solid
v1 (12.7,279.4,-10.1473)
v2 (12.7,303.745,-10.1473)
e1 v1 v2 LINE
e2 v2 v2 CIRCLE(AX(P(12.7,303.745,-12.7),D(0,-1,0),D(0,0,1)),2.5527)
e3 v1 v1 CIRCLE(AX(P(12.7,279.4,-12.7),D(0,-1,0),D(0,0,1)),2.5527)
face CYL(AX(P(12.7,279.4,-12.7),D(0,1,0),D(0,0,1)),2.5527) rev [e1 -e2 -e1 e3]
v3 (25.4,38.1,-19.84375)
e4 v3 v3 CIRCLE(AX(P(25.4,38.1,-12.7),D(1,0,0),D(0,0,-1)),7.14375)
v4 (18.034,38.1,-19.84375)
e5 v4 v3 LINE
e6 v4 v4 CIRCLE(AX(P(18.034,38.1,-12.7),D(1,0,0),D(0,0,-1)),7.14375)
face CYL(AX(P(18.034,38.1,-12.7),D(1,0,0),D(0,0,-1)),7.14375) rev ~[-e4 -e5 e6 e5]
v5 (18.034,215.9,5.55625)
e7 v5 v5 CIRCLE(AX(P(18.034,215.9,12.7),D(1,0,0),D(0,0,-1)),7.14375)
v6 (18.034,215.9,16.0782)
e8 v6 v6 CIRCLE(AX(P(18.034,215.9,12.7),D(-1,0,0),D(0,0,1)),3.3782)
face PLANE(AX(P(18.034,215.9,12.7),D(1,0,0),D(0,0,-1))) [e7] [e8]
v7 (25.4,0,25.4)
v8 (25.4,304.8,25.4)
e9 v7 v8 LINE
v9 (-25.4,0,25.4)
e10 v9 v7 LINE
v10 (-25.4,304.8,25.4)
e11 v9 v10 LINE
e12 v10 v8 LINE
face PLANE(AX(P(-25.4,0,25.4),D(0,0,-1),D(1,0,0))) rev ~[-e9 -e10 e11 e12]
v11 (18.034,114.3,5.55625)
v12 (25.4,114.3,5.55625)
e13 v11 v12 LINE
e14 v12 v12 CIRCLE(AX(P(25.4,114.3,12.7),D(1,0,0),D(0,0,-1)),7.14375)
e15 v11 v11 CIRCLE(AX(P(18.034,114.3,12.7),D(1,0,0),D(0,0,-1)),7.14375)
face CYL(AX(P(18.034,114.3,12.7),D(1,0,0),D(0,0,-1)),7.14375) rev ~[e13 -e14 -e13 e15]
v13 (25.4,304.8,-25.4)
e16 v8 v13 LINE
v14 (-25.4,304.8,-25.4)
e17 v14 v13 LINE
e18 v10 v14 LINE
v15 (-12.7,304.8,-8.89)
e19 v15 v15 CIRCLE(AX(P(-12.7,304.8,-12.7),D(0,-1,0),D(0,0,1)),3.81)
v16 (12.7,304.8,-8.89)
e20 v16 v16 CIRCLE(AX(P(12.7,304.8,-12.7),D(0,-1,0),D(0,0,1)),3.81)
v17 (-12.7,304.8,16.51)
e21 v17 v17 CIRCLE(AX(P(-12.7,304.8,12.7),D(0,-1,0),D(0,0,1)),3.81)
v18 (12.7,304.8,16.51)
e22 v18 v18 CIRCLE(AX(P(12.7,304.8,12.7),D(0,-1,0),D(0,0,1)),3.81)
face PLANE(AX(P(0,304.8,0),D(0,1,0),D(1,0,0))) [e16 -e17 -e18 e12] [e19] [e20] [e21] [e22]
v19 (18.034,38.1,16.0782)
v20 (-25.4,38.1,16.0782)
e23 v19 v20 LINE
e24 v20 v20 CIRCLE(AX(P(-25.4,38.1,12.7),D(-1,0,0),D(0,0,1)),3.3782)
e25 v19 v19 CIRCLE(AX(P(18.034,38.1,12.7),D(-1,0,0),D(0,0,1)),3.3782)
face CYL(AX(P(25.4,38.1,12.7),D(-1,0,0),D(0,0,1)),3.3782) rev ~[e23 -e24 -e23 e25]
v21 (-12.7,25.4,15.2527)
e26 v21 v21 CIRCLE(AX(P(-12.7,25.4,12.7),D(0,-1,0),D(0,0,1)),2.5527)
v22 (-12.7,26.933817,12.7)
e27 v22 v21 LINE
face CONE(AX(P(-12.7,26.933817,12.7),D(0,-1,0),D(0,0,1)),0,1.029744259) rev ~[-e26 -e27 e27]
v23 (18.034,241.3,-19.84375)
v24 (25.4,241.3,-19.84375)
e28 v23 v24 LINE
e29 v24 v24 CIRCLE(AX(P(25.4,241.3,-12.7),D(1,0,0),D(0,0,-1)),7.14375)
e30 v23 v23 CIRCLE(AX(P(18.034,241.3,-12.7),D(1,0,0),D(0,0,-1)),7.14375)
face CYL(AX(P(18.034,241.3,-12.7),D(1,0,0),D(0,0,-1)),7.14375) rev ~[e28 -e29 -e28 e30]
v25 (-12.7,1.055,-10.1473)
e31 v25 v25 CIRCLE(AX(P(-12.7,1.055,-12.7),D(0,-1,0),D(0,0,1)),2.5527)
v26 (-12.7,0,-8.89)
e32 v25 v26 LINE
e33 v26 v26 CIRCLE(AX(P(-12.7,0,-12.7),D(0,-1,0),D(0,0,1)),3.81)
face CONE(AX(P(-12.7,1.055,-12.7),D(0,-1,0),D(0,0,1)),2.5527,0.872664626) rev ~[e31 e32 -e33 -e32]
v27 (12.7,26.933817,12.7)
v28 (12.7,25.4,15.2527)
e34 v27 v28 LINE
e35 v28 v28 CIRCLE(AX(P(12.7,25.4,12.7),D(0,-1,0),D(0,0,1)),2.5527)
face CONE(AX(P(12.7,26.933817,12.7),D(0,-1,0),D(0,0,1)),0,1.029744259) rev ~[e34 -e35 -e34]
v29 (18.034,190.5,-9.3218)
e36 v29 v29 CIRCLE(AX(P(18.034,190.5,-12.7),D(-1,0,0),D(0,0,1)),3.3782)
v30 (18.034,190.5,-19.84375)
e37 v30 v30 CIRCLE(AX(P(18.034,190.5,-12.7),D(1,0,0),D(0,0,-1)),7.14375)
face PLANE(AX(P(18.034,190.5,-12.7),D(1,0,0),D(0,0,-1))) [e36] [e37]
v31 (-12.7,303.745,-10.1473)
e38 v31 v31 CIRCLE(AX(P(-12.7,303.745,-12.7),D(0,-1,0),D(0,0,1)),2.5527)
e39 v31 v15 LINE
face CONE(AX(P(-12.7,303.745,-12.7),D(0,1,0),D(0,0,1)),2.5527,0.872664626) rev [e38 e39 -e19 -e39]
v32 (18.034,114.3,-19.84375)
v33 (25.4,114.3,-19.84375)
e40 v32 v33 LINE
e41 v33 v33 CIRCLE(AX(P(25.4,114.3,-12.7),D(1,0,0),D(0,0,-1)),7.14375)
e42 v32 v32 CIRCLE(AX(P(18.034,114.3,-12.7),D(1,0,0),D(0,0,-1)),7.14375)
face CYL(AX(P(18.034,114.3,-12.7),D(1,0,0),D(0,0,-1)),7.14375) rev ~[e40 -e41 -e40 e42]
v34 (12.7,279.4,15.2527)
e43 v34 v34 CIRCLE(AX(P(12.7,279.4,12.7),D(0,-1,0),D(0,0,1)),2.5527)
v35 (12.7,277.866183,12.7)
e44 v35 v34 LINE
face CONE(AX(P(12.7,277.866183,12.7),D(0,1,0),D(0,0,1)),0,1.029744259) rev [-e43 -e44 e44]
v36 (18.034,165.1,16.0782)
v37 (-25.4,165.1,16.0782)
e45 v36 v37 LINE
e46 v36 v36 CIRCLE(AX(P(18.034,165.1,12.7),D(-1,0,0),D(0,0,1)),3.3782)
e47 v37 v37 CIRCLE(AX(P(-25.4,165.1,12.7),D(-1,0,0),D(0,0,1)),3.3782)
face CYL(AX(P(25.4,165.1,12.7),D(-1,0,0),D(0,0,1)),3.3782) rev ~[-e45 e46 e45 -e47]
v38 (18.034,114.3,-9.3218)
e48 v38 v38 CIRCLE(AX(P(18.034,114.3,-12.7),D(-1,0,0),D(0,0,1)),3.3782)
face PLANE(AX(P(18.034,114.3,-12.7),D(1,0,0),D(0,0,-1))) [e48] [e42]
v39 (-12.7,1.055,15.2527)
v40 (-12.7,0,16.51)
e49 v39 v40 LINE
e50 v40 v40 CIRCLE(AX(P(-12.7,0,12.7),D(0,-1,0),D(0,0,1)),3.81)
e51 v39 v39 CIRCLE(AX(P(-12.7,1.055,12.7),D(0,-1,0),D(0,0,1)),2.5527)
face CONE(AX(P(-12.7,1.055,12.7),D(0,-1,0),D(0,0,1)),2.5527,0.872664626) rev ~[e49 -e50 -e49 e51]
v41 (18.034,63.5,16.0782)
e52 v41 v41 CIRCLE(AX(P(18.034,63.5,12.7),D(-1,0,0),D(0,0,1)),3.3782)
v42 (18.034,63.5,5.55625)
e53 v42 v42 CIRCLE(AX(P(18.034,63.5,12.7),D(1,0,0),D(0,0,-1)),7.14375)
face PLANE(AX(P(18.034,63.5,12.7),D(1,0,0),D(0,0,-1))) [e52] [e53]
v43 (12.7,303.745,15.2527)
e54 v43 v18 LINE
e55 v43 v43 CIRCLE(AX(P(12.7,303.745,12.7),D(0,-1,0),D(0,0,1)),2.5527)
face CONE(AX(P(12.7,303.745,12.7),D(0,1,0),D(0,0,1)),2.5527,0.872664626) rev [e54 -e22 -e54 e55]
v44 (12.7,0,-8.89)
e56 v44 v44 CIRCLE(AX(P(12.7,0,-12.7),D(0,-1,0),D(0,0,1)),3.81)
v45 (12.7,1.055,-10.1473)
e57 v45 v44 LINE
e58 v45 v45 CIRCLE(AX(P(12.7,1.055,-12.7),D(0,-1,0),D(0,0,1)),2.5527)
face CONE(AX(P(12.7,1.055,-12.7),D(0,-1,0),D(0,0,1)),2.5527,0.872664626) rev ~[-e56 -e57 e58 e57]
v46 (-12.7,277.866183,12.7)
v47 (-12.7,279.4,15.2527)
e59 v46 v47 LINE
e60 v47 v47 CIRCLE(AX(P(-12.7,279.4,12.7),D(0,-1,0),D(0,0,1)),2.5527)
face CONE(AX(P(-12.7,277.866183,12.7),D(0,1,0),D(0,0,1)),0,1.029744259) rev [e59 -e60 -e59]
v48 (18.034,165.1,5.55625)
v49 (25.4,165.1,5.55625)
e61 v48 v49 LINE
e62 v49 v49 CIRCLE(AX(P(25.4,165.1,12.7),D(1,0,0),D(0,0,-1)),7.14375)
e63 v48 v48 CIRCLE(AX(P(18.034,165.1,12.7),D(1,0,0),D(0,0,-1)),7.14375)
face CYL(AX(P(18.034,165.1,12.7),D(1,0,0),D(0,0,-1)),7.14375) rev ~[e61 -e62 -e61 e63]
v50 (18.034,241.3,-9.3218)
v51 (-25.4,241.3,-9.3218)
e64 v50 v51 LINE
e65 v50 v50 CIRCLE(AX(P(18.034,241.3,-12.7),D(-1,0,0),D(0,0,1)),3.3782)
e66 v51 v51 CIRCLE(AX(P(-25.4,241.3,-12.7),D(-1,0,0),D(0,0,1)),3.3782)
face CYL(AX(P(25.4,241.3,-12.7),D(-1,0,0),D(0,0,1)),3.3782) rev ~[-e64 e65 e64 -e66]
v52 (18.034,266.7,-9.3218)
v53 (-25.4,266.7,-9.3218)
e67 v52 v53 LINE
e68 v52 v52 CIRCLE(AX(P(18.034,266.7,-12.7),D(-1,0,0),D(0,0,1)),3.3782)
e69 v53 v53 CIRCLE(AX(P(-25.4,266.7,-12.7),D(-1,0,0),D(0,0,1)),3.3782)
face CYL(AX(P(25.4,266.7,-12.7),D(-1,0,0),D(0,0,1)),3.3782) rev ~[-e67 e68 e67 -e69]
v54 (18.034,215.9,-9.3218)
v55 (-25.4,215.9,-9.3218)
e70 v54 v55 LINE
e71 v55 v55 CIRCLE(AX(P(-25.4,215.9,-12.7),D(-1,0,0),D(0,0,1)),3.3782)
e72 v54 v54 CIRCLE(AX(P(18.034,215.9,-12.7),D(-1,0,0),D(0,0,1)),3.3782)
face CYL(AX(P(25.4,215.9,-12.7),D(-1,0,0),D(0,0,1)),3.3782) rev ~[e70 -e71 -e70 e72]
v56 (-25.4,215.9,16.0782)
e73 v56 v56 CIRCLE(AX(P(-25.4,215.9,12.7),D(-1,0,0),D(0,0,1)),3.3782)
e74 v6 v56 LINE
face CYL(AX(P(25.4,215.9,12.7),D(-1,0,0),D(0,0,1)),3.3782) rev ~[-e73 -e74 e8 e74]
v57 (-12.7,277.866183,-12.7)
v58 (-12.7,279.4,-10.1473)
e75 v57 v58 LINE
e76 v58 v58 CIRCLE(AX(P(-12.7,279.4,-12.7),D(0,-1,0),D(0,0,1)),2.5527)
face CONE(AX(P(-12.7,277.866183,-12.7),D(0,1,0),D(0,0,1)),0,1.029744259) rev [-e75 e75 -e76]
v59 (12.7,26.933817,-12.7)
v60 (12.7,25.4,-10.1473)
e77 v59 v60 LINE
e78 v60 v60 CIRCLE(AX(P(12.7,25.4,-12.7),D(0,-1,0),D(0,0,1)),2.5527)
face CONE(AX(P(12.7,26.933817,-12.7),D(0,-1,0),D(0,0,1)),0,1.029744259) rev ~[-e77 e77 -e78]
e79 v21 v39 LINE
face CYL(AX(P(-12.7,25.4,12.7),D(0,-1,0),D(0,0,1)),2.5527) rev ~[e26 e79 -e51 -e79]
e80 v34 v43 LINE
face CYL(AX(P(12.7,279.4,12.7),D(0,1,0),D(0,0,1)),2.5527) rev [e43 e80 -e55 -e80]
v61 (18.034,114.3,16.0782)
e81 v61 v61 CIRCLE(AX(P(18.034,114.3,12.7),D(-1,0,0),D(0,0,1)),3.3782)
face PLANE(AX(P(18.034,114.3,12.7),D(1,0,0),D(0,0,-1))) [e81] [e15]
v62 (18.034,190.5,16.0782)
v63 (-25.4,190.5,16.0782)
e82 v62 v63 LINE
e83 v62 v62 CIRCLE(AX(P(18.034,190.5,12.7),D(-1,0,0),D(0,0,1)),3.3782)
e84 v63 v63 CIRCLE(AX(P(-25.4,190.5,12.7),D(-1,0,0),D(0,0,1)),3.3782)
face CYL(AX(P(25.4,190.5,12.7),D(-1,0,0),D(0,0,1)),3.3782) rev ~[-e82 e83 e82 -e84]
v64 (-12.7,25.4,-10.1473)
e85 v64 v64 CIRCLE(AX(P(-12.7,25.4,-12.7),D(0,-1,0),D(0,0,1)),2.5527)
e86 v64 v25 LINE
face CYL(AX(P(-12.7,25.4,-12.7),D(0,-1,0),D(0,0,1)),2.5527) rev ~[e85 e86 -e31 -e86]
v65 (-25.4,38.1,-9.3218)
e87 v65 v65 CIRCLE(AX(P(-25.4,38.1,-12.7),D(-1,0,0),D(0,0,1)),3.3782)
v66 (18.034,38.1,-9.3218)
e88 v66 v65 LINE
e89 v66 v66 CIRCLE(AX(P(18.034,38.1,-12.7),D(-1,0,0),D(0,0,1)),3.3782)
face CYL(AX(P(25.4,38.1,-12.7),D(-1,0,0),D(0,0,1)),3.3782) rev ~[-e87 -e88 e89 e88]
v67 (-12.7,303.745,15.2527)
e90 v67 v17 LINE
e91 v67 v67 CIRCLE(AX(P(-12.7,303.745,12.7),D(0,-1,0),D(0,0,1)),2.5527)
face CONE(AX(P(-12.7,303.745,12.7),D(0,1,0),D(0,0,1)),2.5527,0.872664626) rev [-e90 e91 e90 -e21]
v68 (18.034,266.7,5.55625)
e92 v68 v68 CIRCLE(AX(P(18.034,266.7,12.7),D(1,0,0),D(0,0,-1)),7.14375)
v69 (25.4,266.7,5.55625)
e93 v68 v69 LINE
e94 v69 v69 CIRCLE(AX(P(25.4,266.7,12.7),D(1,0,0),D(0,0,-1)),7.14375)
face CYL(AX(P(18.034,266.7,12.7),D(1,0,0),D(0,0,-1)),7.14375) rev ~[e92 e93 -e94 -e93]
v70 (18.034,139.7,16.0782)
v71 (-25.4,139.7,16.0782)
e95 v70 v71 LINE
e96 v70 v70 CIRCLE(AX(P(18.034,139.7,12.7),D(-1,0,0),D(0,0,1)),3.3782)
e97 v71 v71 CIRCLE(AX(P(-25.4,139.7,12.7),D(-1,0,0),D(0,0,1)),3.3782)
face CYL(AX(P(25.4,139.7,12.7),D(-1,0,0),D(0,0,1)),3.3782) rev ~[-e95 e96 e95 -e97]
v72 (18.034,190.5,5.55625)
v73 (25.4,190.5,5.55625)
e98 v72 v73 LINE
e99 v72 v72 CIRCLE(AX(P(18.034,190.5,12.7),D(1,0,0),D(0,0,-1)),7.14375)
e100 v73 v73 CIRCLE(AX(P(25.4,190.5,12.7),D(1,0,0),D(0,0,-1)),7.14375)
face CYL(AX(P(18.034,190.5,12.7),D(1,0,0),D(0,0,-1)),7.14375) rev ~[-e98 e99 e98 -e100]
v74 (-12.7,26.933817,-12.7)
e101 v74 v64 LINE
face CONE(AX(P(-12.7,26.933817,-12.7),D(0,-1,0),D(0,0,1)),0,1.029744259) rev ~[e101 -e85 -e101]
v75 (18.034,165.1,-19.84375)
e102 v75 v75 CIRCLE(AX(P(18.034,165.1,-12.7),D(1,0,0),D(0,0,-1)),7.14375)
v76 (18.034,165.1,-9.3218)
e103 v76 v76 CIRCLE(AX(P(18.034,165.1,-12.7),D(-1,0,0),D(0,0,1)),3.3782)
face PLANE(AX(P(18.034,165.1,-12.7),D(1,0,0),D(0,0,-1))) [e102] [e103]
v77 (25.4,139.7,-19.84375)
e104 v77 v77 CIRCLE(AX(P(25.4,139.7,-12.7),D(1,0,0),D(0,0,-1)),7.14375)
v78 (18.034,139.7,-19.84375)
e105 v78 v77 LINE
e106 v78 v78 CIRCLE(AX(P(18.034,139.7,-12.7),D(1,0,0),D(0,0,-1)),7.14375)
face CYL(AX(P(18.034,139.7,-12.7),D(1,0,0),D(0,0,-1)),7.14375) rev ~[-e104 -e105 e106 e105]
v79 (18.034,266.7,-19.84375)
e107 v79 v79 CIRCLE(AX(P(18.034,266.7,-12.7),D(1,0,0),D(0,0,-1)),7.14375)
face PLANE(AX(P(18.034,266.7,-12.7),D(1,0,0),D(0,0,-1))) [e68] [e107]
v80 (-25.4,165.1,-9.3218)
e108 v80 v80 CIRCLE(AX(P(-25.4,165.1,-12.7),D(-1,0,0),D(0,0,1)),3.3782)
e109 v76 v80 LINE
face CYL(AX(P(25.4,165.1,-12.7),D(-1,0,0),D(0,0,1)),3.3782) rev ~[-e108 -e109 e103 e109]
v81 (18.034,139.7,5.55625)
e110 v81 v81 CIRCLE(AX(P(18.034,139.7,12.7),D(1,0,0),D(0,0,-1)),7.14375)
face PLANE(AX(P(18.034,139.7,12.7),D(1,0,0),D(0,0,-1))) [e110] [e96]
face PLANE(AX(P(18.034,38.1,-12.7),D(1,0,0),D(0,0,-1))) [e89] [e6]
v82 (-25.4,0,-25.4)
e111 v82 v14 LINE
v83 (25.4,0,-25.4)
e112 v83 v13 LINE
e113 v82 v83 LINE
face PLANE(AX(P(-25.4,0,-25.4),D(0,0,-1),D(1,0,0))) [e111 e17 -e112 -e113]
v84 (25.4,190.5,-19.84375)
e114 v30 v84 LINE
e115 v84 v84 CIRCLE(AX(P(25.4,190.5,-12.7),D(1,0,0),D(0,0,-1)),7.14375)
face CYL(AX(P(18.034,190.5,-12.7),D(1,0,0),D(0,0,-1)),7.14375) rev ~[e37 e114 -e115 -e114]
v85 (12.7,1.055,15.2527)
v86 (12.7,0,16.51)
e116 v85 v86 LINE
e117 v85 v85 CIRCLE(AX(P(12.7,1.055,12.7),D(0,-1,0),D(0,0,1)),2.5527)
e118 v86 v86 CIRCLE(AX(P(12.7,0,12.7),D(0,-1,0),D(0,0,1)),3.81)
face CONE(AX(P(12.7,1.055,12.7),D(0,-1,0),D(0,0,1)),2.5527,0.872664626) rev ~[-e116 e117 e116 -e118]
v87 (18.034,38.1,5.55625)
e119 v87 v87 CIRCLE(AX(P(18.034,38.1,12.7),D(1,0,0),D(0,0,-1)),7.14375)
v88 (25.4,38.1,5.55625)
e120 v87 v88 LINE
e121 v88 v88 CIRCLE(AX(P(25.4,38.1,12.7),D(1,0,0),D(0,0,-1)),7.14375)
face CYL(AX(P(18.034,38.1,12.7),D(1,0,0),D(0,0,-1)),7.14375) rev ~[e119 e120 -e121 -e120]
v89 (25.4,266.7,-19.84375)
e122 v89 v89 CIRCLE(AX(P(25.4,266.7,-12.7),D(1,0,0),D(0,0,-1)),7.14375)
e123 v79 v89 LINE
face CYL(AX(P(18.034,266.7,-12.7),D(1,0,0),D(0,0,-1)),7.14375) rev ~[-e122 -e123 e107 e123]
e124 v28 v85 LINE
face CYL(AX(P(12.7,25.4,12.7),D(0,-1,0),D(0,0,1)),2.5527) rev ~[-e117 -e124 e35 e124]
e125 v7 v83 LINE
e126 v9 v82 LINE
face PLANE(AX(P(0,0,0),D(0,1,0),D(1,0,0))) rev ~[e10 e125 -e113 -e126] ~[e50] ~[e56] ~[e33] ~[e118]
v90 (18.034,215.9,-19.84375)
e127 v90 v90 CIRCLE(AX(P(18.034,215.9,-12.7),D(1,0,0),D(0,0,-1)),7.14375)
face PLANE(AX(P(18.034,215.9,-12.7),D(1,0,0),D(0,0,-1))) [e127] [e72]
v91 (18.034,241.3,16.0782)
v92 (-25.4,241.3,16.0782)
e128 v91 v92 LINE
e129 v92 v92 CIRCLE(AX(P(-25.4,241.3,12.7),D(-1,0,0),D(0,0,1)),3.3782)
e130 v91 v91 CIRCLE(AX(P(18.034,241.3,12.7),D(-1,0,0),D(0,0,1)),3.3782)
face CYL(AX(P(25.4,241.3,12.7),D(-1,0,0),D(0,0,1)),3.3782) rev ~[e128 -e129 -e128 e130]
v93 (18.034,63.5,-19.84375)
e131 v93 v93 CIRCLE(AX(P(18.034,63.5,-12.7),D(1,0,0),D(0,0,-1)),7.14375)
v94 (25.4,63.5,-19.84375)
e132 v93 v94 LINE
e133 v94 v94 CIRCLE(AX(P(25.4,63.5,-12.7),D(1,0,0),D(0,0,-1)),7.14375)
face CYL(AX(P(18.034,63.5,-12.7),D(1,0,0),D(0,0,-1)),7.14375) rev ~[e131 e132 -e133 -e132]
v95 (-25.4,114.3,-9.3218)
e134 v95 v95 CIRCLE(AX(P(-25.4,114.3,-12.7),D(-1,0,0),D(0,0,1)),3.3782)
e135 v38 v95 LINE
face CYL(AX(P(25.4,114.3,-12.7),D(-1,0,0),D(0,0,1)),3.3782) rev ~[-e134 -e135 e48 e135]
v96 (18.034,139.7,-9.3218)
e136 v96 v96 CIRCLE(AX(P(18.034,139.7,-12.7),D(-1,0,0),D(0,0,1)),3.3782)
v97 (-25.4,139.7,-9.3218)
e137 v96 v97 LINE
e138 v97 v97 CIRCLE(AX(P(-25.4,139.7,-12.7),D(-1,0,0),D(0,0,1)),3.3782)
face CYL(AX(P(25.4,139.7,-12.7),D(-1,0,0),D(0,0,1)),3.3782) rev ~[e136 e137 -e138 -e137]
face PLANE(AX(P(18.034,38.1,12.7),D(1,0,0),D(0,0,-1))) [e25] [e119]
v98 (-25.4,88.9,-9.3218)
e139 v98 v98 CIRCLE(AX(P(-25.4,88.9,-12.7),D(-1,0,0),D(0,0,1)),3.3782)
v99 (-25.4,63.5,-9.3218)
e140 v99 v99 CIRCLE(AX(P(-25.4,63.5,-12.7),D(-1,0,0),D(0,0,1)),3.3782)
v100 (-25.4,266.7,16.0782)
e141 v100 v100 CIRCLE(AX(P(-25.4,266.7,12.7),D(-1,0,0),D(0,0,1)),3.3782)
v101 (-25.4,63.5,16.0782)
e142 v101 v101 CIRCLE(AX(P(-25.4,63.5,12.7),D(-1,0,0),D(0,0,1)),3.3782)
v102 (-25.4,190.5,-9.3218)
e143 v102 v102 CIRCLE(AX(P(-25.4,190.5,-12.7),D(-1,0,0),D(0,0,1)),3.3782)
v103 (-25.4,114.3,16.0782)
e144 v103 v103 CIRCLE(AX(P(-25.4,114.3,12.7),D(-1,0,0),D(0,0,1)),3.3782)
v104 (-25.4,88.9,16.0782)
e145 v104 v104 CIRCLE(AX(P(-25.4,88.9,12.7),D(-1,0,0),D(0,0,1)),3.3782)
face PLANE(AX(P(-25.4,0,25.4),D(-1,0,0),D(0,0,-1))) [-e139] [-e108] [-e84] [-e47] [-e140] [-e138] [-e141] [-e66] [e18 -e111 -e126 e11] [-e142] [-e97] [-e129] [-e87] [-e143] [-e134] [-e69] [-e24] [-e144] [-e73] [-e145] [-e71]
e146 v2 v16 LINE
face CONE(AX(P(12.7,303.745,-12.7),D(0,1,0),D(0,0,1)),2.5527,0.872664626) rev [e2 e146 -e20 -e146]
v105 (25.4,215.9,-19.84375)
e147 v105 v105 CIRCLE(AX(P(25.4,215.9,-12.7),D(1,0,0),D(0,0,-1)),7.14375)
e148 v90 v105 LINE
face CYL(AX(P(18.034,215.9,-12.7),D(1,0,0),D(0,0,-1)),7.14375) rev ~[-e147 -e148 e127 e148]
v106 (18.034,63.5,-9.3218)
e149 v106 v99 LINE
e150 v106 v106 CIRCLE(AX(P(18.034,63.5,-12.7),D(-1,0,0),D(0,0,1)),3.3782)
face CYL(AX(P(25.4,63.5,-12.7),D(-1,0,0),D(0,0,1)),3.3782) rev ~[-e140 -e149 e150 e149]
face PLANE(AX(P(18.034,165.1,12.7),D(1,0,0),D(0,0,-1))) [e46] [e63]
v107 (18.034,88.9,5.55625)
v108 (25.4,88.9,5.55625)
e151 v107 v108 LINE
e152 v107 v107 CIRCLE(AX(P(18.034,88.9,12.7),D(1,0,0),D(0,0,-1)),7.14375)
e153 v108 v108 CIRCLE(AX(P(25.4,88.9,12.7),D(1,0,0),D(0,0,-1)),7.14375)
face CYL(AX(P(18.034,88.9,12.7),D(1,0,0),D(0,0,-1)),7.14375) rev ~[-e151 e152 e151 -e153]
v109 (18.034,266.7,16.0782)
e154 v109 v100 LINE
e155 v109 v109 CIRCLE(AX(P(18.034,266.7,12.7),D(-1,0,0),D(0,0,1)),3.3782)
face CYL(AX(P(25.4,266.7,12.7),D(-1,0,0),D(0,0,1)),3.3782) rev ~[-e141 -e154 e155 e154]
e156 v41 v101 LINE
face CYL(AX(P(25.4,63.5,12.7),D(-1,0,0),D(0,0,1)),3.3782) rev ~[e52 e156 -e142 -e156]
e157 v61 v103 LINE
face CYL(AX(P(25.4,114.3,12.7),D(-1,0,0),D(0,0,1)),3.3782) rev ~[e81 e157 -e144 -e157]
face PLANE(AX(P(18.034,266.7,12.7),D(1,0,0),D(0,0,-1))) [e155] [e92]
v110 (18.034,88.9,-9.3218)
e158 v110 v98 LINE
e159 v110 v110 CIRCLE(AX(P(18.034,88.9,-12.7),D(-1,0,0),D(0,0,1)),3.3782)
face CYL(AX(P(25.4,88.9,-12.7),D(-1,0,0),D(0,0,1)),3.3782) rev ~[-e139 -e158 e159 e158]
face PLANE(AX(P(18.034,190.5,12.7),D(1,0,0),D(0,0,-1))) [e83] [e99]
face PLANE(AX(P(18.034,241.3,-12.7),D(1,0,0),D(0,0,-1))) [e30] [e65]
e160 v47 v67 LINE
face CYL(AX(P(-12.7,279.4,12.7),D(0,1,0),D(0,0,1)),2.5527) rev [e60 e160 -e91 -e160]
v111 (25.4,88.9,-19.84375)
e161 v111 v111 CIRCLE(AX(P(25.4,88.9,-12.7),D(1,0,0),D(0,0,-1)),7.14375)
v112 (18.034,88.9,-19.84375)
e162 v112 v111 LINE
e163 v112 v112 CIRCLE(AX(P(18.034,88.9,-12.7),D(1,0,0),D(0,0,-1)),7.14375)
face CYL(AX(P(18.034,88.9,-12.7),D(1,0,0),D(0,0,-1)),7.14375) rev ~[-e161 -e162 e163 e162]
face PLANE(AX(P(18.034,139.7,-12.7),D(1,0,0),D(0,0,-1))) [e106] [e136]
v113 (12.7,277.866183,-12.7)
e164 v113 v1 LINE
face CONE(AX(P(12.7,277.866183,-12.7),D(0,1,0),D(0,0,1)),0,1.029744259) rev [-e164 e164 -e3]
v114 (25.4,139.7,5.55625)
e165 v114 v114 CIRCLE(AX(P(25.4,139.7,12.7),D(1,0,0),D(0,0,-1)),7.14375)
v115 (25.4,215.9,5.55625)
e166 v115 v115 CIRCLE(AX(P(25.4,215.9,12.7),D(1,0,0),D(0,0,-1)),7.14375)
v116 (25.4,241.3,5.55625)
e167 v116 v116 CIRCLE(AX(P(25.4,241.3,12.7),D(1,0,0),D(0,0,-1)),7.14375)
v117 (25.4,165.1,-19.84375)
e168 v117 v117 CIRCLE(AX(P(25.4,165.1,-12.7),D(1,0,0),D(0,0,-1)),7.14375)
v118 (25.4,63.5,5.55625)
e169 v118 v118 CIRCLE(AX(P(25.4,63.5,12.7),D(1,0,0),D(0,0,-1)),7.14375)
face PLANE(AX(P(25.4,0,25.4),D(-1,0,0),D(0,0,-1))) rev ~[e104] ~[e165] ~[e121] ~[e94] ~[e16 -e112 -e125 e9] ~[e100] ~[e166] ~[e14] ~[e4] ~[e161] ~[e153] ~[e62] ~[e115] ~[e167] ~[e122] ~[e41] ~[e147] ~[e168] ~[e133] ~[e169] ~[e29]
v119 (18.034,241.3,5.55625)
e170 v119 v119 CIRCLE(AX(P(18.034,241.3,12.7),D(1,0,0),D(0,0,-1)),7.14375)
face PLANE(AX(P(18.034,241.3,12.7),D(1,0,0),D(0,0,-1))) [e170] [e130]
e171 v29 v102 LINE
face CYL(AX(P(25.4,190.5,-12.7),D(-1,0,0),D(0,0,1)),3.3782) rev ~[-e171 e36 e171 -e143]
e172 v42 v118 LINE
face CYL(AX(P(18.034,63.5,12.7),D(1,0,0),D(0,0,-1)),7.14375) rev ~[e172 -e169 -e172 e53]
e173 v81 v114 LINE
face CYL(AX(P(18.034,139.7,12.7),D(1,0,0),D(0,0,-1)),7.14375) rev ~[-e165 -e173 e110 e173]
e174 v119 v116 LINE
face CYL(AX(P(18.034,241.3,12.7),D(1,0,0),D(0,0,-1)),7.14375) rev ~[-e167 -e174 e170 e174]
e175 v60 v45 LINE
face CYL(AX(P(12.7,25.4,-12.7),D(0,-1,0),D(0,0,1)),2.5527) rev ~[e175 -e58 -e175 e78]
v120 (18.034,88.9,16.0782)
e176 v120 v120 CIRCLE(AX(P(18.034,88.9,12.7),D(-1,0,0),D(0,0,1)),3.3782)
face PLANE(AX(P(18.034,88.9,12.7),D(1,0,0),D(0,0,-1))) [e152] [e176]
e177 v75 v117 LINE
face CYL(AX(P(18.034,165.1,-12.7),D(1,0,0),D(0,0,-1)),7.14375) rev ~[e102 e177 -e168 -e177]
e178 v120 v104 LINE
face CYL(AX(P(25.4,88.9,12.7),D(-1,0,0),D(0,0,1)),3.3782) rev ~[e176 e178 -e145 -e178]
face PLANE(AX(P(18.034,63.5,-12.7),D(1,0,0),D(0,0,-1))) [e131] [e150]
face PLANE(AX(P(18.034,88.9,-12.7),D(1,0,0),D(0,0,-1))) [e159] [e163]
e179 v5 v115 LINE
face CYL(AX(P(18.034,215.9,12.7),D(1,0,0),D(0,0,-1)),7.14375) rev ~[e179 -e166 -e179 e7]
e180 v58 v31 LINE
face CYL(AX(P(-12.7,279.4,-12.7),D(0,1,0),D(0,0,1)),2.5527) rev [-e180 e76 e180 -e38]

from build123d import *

# Parameters (mm, degrees)
SKETCH1_W                                            = 50.8
SKETCH1_H                                            = 50.8
BOSS_EXTRUDE1_DEPTH                                  = 304.8
F_1_4_20_TAPPED_HOLE1_AT_2_COUNT                     = 2
F_1_4_20_TAPPED_HOLE1_AT_2_PITCH                     = 25.4
F_1_4_20_TAPPED_HOLE1_AT_3_COUNT                     = 2
F_1_4_20_TAPPED_HOLE1_AT_3_PITCH                     = 35.921024484
F_1_4_20_TAPPED_HOLE1_AT_4_COUNT                     = 2
F_1_4_20_TAPPED_HOLE1_AT_4_PITCH                     = 25.4
CBORE_FOR_1_4_BINDING_HEAD_MACHINE_SCREW_D           = 6.7564
CBORE_FOR_1_4_BINDING_HEAD_MACHINE_SCREW_CBORE_D     = 14.2875
CBORE_FOR_1_4_BINDING_HEAD_MACHINE_SCREW_CBORE_DEPTH = 7.366


with BuildPart() as part:
    # Sketch1 → Boss-Extrude1 (new body)
    with BuildSketch(Plane(origin=(0, 0, 0), x_dir=(1, 0, 0), z_dir=(0, 1, 0))):
        Rectangle(SKETCH1_W, SKETCH1_H)
    extrude(amount=BOSS_EXTRUDE1_DEPTH)

    # Sketch3 → 1/4-20 Tapped Hole1 (revolve, cut)
    with BuildSketch(Plane(origin=(-12.7, 304.8, -12.7), x_dir=(0, 0, 1), z_dir=(1, 0, 0))):
        Polygon((0, 0), (0, 26.933816902), (2.5527, 25.4), (2.5527, 1.054999966), (3.81, 0), align=None)
    f_1_4_20_tapped_hole1 = revolve(axis=Axis((-12.7, 311.15, -12.7), (0, -1, 0)), mode=Mode.SUBTRACT)

    # 1/4-20 Tapped Hole1 at 2: 1/4-20 Tapped Hole1 ×2
    with Locations(*[(i * F_1_4_20_TAPPED_HOLE1_AT_2_PITCH, 0, 0) for i in range(1, F_1_4_20_TAPPED_HOLE1_AT_2_COUNT)]):
        add(f_1_4_20_tapped_hole1, mode=Mode.SUBTRACT)

    # 1/4-20 Tapped Hole1 at 3: 1/4-20 Tapped Hole1 ×2
    with Locations(*[Vector(0.7071067811865476, 0, 0.7071067811865475) * (i * F_1_4_20_TAPPED_HOLE1_AT_3_PITCH) for i in range(1, F_1_4_20_TAPPED_HOLE1_AT_3_COUNT)]):
        add(f_1_4_20_tapped_hole1, mode=Mode.SUBTRACT)

    # 1/4-20 Tapped Hole1 at 4: 1/4-20 Tapped Hole1 ×2
    with Locations(*[(0, 0, i * F_1_4_20_TAPPED_HOLE1_AT_4_PITCH) for i in range(1, F_1_4_20_TAPPED_HOLE1_AT_4_COUNT)]):
        add(f_1_4_20_tapped_hole1, mode=Mode.SUBTRACT)

    # Mirror1: 1/4-20 Tapped Hole1 across plane
    add(f_1_4_20_tapped_hole1.mirror(Plane(origin=(0, 152.4, 0), x_dir=(0, 0, 1), z_dir=(0, -1, 0))), mode=Mode.SUBTRACT)

    # Mirror1 copy 1 sketch → Mirror1 copy 1 (revolve, cut)
    with BuildSketch(Plane(origin=(12.7, 0, -12.7), x_dir=(0, 0, 1), z_dir=(1, 0, 0))):
        Polygon((0, 0), (0, -26.933816902), (2.5527, -25.4), (2.5527, -1.054999966), (3.81, 0), align=None)
    revolve(axis=Axis((12.7, -6.35, -12.7), (0, -1, 0)), mode=Mode.SUBTRACT)

    # Mirror1 copy 2 sketch → Mirror1 copy 2 (revolve, cut)
    with BuildSketch(Plane(origin=(12.7, 0, 12.7), x_dir=(0, 0, 1), z_dir=(1, 0, 0))):
        Polygon((0, 0), (0, -26.933816902), (2.5527, -25.4), (2.5527, -1.054999966), (3.81, 0), align=None)
    revolve(axis=Axis((12.7, -6.35, 12.7), (0, -1, 0)), mode=Mode.SUBTRACT)

    # Mirror1 copy 3 sketch → Mirror1 copy 3 (revolve, cut)
    with BuildSketch(Plane(origin=(-12.7, 0, 12.7), x_dir=(0, 0, 1), z_dir=(1, 0, 0))):
        Polygon((0, 0), (0, -26.933816902), (2.5527, -25.4), (2.5527, -1.054999966), (3.81, 0), align=None)
    revolve(axis=Axis((-12.7, -6.35, 12.7), (0, -1, 0)), mode=Mode.SUBTRACT)

    # CBORE for 1/4 Binding Head Machine Screw1 (through all)
    with Locations(Plane(origin=(25.4, 0, 0), x_dir=(0, 0, -1), z_dir=(1, 0, 0))):
        with Locations((-12.7, 266.7), (12.7, 266.7), (12.7, 241.3), (12.7, 215.9), (12.7, 190.5), (-12.7, 241.3), (-12.7, 215.9), (-12.7, 190.5), (-12.7, 165.1), (12.7, 165.1), (-12.7, 139.7), (12.7, 139.7), (-12.7, 114.3), (12.7, 114.3), (-12.7, 88.9), (12.7, 88.9), (-12.7, 63.5), (12.7, 63.5), (-12.7, 38.1), (12.7, 38.1)):
            CounterBoreHole(CBORE_FOR_1_4_BINDING_HEAD_MACHINE_SCREW_D / 2, CBORE_FOR_1_4_BINDING_HEAD_MACHINE_SCREW_CBORE_D / 2, CBORE_FOR_1_4_BINDING_HEAD_MACHINE_SCREW_CBORE_DEPTH)


solid = part.part
